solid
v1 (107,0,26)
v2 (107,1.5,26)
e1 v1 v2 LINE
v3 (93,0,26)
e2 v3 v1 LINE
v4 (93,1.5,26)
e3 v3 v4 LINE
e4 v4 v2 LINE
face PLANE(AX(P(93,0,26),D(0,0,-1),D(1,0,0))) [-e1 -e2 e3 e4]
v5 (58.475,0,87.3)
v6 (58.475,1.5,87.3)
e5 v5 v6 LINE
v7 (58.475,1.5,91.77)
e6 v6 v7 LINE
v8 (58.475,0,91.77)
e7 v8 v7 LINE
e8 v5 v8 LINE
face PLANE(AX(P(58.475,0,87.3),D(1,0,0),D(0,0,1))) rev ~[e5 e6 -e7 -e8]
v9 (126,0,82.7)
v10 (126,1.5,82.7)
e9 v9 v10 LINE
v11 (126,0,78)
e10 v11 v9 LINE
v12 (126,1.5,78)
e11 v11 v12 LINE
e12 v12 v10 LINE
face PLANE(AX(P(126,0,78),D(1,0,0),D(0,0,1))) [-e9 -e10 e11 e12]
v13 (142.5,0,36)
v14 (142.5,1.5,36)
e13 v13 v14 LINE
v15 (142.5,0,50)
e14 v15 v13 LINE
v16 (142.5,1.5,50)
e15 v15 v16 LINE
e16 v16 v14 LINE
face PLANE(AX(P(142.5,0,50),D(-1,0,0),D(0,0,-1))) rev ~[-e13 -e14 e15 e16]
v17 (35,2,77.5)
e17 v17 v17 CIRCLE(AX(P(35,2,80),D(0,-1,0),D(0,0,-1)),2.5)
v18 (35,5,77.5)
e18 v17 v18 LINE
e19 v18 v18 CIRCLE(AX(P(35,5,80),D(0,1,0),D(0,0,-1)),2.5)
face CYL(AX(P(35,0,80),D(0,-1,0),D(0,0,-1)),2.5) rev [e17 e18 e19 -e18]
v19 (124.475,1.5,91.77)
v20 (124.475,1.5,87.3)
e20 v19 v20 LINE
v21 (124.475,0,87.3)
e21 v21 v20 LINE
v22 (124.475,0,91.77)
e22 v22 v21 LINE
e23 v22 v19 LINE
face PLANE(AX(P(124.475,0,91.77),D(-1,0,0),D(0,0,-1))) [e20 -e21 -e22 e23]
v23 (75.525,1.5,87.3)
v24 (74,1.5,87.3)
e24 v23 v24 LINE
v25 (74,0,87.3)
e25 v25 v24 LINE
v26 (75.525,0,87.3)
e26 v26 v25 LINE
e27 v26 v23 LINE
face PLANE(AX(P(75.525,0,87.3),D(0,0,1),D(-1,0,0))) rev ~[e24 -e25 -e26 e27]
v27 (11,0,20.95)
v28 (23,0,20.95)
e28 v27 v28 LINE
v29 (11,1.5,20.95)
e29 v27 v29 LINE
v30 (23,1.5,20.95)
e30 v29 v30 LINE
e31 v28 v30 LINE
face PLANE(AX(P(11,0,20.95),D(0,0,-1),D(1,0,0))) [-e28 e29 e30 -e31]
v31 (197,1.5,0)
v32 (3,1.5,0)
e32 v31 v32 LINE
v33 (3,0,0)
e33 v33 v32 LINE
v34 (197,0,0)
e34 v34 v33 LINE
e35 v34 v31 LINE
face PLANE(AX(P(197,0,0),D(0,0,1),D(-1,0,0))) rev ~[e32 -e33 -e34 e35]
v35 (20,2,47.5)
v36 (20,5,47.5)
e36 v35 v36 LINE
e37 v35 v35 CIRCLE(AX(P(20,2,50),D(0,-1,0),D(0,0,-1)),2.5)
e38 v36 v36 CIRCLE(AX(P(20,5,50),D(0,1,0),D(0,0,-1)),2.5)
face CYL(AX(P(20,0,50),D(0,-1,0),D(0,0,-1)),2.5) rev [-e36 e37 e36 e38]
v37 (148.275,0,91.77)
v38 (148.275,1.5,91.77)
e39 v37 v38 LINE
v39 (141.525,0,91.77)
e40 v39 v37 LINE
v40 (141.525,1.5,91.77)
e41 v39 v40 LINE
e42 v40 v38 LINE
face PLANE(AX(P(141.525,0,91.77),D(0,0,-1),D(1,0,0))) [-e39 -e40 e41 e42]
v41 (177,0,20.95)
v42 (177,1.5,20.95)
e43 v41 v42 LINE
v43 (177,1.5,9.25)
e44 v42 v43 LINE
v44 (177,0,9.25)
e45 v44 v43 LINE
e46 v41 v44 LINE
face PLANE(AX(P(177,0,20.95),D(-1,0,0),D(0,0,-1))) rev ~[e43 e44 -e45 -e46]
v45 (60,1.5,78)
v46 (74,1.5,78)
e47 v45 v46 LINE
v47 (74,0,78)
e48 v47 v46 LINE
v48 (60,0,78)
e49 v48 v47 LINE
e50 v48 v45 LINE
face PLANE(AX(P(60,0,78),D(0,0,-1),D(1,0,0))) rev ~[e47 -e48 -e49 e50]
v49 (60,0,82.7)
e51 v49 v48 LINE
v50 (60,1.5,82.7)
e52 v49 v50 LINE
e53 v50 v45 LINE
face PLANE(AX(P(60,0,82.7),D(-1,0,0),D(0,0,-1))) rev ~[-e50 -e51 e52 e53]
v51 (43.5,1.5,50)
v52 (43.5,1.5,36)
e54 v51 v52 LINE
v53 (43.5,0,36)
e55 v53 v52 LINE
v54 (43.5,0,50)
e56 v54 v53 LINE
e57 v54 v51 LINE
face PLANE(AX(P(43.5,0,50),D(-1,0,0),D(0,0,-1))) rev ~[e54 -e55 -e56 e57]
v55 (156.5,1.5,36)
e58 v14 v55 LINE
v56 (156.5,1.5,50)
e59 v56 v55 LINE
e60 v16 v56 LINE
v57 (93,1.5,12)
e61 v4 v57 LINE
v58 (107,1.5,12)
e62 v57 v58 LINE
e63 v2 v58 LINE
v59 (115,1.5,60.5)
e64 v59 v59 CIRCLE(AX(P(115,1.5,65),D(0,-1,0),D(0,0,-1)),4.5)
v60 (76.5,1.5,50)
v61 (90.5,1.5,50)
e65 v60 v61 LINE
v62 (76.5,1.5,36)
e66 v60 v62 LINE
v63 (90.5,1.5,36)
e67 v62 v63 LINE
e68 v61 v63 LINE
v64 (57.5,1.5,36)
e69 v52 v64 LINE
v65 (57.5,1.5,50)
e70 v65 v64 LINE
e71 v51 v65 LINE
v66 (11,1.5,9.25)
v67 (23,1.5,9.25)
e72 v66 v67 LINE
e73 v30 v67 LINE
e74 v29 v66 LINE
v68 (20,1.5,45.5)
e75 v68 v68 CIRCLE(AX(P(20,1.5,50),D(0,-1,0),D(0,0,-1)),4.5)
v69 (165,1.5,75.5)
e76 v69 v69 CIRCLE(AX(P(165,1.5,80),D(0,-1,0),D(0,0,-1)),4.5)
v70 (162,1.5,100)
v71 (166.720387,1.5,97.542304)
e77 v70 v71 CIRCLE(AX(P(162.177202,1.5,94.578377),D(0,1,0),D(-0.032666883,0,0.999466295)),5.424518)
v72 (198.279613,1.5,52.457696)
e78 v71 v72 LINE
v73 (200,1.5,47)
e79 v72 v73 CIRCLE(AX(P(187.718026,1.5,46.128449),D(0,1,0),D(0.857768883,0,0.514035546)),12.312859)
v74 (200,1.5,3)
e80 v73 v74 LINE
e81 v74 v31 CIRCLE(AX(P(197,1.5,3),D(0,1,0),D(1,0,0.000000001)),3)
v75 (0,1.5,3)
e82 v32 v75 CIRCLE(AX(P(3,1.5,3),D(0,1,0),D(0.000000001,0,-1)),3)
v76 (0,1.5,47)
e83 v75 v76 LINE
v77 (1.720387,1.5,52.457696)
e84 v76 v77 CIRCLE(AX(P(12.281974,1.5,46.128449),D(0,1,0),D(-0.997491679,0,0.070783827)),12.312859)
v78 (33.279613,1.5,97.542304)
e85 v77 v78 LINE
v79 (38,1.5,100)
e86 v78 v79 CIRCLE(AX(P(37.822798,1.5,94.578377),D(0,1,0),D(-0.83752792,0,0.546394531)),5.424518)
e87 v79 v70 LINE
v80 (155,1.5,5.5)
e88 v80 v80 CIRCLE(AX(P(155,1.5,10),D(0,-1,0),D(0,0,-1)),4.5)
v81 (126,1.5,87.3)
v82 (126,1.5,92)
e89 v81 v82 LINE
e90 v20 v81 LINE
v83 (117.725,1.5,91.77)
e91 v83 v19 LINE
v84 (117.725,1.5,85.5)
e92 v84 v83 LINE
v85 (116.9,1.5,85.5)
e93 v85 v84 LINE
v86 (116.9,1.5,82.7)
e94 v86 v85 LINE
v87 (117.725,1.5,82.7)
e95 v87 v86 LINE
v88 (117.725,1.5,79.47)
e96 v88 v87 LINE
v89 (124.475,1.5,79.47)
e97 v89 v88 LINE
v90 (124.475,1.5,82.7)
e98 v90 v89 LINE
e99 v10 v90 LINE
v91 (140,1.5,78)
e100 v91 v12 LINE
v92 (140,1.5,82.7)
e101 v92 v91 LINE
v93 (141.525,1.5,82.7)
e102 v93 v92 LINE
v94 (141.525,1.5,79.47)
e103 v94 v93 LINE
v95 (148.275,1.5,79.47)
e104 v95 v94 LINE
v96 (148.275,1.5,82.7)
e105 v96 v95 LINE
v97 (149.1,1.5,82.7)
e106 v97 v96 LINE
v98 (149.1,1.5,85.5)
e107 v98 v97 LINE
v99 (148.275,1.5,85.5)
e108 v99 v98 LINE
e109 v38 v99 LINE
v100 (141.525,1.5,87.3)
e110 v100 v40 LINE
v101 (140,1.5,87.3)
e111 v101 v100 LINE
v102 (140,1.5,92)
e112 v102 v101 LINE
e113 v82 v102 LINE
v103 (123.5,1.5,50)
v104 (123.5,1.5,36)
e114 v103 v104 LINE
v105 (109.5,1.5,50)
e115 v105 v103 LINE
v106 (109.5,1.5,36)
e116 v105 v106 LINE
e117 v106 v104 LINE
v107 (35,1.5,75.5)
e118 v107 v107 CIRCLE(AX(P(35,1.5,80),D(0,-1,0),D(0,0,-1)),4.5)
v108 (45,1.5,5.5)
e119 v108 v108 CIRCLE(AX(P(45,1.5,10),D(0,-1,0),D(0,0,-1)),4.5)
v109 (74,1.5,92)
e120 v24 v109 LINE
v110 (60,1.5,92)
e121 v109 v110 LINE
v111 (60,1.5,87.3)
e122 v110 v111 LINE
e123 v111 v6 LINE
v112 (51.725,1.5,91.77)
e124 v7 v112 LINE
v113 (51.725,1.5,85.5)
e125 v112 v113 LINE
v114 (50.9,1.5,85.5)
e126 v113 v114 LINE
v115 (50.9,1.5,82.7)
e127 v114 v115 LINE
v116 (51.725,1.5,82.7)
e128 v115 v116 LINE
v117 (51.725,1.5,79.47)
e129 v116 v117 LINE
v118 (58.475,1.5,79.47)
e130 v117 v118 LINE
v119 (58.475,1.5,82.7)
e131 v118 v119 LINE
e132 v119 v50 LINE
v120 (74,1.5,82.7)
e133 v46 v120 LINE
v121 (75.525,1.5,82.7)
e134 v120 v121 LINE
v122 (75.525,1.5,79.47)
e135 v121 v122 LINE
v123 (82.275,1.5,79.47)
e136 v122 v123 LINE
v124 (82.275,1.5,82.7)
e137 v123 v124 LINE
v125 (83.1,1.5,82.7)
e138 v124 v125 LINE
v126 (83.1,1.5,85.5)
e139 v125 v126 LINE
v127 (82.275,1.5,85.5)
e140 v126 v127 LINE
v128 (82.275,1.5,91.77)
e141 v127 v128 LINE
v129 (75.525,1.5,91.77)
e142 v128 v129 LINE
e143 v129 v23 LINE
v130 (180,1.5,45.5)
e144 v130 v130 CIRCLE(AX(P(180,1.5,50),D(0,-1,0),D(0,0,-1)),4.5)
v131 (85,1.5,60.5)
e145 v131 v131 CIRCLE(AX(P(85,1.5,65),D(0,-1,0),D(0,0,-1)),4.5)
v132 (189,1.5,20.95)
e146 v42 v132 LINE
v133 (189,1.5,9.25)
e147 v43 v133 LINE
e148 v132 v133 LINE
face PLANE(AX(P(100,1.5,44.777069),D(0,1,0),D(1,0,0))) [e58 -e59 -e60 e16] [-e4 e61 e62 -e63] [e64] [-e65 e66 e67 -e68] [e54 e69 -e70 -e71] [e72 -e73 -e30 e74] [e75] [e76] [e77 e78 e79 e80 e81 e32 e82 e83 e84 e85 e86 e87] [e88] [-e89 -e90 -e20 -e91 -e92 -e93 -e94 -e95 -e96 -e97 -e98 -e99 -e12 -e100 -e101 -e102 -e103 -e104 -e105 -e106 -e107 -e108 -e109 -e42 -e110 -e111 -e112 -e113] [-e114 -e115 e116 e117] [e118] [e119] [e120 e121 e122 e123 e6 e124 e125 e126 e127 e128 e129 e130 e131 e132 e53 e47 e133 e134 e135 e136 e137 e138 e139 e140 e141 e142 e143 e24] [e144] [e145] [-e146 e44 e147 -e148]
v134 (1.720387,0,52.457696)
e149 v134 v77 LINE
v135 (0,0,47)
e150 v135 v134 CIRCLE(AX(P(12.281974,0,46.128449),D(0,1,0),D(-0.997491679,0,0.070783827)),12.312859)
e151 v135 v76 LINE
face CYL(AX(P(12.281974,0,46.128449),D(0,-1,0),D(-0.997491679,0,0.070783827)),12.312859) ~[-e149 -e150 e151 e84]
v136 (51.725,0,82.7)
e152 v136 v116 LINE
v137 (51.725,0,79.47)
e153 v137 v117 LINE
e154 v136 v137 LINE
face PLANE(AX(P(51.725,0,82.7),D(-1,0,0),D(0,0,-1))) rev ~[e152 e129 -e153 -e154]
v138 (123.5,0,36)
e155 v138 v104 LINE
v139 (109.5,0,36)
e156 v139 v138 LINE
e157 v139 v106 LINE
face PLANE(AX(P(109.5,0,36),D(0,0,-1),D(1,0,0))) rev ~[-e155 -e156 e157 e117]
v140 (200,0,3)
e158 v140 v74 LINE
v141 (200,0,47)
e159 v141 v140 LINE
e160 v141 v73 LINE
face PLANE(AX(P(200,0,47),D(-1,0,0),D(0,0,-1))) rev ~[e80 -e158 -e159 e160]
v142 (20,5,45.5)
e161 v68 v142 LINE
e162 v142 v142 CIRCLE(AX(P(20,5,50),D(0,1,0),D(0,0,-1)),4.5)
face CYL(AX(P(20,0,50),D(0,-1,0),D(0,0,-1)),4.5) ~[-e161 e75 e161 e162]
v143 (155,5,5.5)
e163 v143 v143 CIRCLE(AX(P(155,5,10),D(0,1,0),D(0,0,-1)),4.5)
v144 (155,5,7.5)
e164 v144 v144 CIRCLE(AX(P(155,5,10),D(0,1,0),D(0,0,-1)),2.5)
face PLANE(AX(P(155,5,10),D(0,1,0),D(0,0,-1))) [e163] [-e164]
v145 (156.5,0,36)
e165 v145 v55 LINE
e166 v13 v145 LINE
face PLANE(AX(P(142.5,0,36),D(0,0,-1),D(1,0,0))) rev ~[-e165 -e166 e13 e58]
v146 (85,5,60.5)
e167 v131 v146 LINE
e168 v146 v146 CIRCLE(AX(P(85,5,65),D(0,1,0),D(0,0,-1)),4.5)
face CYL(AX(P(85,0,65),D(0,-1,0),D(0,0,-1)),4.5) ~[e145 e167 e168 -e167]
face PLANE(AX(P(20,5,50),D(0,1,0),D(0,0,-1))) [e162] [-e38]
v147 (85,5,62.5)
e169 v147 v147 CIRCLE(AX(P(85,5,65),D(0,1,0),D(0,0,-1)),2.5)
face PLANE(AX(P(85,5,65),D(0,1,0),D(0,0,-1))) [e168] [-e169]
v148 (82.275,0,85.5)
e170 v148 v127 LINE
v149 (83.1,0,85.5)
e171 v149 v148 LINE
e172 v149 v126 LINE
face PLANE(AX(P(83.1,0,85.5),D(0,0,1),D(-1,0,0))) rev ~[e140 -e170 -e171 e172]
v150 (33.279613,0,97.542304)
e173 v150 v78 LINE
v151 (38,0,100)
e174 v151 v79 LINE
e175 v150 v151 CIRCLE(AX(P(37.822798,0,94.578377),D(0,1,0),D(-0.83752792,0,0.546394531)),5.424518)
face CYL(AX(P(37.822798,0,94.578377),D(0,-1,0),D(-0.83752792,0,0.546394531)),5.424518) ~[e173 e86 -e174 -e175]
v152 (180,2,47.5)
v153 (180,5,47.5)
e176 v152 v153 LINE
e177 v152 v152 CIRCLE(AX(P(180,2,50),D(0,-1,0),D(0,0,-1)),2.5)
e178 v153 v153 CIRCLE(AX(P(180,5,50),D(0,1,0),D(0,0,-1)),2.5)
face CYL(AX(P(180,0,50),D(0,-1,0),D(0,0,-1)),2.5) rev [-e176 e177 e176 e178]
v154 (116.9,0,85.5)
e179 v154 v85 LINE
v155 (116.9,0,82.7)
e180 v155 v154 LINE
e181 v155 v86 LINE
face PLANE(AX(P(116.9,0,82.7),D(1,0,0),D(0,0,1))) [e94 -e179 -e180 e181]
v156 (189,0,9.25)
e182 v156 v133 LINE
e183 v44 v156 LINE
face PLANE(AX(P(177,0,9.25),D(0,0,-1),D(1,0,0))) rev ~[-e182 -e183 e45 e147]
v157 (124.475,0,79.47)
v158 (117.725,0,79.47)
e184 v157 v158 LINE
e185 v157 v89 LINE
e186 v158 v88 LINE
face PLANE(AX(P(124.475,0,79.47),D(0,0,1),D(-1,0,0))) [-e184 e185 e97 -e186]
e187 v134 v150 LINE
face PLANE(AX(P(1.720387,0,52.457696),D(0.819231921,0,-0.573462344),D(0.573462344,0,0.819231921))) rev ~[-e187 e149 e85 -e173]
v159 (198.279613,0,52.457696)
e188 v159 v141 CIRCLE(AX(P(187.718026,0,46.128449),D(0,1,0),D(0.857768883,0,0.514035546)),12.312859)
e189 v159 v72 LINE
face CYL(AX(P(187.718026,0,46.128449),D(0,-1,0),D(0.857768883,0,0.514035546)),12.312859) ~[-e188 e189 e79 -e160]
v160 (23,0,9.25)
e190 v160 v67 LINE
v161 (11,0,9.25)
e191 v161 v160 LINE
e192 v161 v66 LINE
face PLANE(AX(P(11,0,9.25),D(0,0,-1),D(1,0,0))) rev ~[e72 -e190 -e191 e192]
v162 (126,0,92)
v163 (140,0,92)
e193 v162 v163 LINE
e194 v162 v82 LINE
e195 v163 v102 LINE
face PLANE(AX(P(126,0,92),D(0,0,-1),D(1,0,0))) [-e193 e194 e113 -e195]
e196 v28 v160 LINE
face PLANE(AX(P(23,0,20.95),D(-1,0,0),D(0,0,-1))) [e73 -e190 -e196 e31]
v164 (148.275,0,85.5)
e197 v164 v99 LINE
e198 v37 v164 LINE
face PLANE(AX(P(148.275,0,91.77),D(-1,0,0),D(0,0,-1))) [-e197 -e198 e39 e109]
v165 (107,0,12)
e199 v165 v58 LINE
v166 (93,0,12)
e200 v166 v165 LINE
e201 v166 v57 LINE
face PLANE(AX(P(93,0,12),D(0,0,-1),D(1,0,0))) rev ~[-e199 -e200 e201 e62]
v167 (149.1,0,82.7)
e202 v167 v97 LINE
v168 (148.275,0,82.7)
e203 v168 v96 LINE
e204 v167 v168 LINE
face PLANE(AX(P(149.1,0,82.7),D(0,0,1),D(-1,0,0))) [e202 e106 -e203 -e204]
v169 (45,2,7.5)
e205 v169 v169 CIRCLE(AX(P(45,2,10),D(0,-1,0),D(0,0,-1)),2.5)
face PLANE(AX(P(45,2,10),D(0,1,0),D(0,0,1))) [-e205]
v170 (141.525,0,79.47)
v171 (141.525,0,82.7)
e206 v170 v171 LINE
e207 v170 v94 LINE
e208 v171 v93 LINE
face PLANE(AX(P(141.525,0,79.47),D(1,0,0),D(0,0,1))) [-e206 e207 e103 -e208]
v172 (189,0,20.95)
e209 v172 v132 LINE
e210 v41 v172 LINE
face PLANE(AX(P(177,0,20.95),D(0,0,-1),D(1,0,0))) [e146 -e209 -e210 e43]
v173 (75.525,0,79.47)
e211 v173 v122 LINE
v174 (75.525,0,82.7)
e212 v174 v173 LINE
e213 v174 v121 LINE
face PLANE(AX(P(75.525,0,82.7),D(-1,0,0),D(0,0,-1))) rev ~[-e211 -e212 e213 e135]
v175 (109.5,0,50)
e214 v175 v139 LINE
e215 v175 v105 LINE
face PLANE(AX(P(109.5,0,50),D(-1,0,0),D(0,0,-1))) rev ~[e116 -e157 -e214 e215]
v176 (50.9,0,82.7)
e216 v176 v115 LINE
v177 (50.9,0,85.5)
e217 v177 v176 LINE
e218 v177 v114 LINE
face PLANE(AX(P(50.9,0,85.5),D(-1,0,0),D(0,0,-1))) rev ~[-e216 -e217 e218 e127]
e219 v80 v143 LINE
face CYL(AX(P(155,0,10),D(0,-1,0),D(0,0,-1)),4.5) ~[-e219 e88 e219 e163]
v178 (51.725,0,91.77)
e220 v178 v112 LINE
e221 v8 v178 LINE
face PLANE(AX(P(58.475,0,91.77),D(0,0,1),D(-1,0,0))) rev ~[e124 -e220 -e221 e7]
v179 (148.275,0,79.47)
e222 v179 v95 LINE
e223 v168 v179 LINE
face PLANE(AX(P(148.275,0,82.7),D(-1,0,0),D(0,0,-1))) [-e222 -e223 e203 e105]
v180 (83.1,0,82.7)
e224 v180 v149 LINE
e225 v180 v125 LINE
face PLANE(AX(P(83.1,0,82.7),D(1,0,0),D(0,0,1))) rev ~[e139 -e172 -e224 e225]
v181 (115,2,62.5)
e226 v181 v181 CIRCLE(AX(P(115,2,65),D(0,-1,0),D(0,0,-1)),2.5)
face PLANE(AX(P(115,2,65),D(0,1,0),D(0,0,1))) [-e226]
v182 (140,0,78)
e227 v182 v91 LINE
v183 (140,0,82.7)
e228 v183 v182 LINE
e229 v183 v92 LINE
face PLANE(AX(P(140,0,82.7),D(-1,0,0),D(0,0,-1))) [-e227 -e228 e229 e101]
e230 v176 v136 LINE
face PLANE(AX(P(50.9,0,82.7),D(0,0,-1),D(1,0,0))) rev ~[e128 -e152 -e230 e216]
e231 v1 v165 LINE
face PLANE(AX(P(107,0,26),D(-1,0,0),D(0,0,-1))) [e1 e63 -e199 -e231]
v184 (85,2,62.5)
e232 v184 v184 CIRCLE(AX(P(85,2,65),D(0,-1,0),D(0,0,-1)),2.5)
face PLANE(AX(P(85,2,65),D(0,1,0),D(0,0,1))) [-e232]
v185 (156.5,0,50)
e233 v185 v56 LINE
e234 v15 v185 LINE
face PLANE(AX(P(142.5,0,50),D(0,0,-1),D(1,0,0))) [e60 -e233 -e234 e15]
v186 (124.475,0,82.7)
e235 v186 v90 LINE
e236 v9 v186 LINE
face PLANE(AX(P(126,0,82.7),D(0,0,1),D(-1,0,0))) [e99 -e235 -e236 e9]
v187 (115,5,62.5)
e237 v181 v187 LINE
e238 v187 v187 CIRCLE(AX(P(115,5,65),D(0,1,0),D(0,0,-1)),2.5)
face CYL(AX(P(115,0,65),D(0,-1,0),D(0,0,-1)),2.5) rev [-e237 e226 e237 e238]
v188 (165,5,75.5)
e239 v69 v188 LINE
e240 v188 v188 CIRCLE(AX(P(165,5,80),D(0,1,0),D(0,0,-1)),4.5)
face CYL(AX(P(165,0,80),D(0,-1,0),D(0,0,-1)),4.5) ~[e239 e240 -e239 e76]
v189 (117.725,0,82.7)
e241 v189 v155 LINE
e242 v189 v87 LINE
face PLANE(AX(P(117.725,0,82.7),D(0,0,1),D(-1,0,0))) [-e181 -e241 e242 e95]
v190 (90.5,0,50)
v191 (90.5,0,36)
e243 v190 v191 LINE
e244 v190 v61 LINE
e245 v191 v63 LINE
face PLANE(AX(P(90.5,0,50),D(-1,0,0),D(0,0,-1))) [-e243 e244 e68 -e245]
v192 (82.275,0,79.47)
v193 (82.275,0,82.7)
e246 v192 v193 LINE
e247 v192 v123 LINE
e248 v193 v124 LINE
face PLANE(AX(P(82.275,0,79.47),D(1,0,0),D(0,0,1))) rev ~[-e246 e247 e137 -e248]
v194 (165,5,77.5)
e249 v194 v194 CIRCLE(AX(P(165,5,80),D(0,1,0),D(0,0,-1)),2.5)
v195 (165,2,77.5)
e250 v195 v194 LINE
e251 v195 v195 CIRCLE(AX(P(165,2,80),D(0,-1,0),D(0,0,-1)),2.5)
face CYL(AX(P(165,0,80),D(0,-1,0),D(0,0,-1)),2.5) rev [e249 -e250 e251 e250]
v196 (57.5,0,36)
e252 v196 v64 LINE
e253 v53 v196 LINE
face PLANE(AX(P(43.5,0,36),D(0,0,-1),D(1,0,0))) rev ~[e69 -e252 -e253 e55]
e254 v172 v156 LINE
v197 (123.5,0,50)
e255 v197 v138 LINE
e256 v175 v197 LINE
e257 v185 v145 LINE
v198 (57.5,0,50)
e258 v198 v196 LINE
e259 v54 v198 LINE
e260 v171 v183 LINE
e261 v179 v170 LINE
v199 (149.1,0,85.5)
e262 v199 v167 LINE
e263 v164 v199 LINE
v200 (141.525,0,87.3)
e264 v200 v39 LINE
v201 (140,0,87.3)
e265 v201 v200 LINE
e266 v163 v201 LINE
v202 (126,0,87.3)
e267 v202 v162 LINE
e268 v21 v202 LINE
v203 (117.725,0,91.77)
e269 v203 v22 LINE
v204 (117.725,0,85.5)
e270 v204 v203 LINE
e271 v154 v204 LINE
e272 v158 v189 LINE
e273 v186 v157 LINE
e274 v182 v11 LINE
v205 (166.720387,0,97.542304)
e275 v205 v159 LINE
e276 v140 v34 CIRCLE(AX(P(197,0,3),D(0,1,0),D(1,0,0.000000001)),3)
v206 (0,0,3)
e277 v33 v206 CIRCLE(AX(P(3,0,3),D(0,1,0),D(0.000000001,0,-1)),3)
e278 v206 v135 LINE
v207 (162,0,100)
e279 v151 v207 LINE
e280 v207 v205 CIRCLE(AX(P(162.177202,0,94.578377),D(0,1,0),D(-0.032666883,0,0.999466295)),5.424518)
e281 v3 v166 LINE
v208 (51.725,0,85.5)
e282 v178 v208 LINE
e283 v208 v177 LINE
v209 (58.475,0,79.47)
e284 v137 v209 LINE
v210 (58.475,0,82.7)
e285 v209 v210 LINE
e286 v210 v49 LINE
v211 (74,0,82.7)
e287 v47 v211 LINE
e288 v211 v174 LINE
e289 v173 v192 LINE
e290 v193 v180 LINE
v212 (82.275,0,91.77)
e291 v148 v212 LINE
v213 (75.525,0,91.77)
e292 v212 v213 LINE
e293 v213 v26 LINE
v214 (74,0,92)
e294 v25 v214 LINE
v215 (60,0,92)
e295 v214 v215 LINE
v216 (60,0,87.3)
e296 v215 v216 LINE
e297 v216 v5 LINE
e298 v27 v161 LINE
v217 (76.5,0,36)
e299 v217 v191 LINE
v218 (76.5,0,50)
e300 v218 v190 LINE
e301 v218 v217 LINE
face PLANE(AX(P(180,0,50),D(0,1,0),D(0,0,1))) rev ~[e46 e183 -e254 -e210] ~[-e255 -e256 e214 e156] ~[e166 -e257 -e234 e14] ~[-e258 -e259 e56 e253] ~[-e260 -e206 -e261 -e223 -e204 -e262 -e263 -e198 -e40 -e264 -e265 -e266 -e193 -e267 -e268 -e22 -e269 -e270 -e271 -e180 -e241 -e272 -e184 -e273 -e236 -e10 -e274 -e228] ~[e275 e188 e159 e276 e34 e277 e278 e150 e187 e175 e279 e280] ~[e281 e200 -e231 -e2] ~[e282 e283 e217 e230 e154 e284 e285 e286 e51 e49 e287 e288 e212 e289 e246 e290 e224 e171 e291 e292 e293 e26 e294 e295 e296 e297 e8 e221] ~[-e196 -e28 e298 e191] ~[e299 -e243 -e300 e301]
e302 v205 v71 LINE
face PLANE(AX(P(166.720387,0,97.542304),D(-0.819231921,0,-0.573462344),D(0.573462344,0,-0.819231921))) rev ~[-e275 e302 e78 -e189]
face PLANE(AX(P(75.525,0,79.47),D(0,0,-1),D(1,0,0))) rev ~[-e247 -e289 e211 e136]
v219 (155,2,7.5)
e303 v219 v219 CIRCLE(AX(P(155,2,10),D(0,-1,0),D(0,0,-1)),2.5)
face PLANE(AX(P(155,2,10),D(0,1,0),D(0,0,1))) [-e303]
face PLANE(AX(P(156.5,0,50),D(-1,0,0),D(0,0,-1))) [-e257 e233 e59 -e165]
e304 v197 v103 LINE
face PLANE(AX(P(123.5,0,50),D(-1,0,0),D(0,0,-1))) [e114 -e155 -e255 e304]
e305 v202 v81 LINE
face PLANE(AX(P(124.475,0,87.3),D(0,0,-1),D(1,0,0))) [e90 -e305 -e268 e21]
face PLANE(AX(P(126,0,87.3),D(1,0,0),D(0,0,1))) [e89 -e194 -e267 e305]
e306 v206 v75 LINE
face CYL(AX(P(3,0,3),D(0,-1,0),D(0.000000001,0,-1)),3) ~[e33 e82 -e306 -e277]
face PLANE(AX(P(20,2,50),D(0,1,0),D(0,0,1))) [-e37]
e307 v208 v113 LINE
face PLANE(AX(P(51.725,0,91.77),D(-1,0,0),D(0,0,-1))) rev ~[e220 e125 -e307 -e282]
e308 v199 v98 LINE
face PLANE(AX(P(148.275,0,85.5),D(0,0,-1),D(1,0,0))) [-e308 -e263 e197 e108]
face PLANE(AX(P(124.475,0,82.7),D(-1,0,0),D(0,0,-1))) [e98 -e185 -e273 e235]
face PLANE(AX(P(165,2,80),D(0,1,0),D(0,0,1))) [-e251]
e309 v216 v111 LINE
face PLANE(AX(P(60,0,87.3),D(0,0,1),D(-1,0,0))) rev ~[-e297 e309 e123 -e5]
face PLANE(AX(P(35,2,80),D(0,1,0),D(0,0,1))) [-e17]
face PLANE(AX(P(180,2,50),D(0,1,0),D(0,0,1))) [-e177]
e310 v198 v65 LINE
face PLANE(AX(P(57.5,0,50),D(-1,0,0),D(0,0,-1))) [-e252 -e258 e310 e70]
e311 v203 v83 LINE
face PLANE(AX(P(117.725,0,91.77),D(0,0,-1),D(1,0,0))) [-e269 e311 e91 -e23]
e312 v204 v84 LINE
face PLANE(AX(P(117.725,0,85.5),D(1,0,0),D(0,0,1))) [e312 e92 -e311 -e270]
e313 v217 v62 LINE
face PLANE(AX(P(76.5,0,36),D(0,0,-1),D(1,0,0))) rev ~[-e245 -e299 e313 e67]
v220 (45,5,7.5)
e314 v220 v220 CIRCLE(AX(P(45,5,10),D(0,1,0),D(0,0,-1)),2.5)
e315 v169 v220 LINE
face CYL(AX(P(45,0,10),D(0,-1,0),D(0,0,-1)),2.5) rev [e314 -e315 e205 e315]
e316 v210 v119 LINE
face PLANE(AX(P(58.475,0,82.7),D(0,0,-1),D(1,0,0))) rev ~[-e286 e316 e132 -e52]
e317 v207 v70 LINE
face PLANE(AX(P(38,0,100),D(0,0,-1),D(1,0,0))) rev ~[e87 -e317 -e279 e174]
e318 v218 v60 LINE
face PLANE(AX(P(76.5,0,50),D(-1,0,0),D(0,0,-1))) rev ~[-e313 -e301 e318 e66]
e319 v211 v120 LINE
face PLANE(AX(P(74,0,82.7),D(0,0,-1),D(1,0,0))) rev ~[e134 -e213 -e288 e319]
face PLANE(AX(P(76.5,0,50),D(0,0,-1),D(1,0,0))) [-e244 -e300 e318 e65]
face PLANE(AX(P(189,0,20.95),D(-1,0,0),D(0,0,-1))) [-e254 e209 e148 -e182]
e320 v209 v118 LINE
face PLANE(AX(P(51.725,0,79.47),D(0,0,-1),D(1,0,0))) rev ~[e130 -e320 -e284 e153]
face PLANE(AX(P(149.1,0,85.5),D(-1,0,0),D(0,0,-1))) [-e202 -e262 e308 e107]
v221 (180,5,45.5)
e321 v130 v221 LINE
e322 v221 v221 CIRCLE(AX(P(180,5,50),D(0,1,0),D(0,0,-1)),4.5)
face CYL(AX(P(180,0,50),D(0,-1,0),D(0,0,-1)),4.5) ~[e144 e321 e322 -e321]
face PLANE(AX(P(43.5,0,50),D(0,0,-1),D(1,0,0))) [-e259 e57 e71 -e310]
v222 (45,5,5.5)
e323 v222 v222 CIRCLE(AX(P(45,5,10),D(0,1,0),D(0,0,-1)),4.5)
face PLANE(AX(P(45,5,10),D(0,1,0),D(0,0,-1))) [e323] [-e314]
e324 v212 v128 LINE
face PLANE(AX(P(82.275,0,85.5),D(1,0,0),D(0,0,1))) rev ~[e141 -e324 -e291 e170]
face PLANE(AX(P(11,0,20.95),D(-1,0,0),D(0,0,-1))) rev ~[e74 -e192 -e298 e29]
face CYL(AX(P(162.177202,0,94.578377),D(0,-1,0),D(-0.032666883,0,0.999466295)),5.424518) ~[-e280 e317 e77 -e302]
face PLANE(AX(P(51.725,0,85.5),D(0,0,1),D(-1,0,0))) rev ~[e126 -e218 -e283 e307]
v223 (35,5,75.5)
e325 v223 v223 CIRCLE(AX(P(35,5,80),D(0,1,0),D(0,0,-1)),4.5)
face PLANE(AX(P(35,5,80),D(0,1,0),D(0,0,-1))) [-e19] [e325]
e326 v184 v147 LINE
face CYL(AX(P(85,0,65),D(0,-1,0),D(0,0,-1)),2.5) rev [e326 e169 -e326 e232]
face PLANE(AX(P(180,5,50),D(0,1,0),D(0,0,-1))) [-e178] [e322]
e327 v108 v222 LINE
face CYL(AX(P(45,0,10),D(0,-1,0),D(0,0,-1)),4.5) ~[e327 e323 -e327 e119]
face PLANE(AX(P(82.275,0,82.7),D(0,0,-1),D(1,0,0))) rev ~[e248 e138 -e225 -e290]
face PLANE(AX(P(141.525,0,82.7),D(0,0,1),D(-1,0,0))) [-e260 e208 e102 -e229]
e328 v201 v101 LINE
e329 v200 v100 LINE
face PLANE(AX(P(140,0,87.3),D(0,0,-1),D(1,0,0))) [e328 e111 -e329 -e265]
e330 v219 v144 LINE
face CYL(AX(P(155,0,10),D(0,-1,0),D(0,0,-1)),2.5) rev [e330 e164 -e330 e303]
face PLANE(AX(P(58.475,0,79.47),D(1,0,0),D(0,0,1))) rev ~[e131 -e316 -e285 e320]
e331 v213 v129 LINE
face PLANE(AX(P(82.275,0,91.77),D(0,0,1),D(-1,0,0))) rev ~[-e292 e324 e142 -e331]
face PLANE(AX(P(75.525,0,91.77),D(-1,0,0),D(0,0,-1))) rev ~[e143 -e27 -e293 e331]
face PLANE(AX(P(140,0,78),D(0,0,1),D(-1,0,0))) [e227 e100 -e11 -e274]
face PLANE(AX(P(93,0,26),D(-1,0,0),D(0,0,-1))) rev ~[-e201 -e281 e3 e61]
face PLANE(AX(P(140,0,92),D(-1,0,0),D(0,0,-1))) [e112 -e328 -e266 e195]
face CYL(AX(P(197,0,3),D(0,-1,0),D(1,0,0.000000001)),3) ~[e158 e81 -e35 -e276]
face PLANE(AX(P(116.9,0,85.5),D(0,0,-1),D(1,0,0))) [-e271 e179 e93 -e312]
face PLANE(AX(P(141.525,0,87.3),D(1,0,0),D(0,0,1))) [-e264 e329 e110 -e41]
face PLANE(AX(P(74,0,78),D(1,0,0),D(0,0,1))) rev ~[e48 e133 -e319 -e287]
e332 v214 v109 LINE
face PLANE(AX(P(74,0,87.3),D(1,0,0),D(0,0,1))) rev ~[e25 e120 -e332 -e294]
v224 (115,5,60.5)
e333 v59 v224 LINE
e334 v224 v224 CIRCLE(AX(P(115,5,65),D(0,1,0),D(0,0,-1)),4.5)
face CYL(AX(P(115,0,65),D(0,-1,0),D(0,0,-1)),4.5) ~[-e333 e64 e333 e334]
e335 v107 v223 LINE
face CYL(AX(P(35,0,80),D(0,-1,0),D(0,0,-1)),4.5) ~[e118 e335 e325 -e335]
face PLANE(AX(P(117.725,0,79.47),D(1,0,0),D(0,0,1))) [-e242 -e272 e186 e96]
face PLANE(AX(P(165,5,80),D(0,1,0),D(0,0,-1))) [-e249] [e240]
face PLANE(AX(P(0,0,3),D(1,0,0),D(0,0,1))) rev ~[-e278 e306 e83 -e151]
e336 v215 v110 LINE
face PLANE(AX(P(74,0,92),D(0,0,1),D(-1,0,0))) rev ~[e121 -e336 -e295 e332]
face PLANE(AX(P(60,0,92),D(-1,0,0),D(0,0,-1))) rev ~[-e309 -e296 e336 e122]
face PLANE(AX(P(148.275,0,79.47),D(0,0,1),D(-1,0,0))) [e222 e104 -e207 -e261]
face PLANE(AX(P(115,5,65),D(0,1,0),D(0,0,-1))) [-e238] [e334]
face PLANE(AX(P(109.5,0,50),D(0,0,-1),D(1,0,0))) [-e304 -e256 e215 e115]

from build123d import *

# Parameters (mm, degrees)
SKETCH_1_W      = 14
SKETCH_1_H      = 14
SKETCH_1_W_2    = 12
SKETCH_1_H_2    = 11.7
EXTRUDE_1_DEPTH = 1.5
SKETCH_2_R      = 4.5
SKETCH_2_R_2    = 2.5
EXTRUDE_2_DEPTH = 5
SKETCH_3_R      = 2.5
EXTRUDE_3_DEPTH = 2


with BuildPart() as part:
    # 草图1 → 凸台-拉伸1 (new body)
    with BuildSketch(Plane(origin=(0, 0, 0), x_dir=(1, 0, 0), z_dir=(0, 1, 0))):
        with BuildLine():
            Line((197, 0), (3, 0))
            ThreePointArc((3, 0), (0.878679656, -0.878679656), (0, -3))
            Line((0, -3), (0, -47))
            ThreePointArc((0, -47), (0.538734236, -49.830178992), (1.720387033, -52.457695762))
            Line((1.720387033, -52.457695762), (33.279612967, -97.542304238))
            ThreePointArc((33.279612967, -97.542304238), (35.317699373, -99.389808931), (38, -100))
            Line((38, -100), (162, -100))
            ThreePointArc((162, -100), (164.682300627, -99.389808931), (166.720387033, -97.542304238))
            Line((166.720387033, -97.542304238), (198.279612967, -52.457695762))
            ThreePointArc((198.279612967, -52.457695762), (199.461265764, -49.830178992), (200, -47))
            Line((200, -47), (200, -3))
            ThreePointArc((200, -3), (199.121320344, -0.878679656), (197, 0))
        make_face()
        with Locations((100, -19)):
            Rectangle(SKETCH_1_W, SKETCH_1_H, mode=Mode.SUBTRACT)
        with Locations((83.5, -43)):
            Rectangle(SKETCH_1_W, SKETCH_1_H, mode=Mode.SUBTRACT)
        with Locations((116.5, -43)):
            Rectangle(SKETCH_1_W, SKETCH_1_H, mode=Mode.SUBTRACT)
        with Locations((50.5, -43)):
            Rectangle(SKETCH_1_W, SKETCH_1_H, mode=Mode.SUBTRACT)
        with Locations((149.5, -43)):
            Rectangle(SKETCH_1_W, SKETCH_1_H, mode=Mode.SUBTRACT)
        Polygon((60, -78), (74, -78), (74, -82.7), (75.525, -82.7), (75.525, -79.47), (82.275, -79.47), (82.275, -82.7), (83.1, -82.7), (83.1, -85.5), (82.275, -85.5), (82.275, -91.77), (75.525, -91.77), (75.525, -87.3), (74, -87.3), (74, -92), (60, -92), (60, -87.3), (58.475, -87.3), (58.475, -91.77), (51.725, -91.77), (51.725, -85.5), (50.9, -85.5), (50.9, -82.7), (51.725, -82.7), (51.725, -79.47), (58.475, -79.47), (58.475, -82.7), (60, -82.7), align=None, mode=Mode.SUBTRACT)
        Polygon((140, -78), (126, -78), (126, -82.7), (124.475, -82.7), (124.475, -79.47), (117.725, -79.47), (117.725, -82.7), (116.9, -82.7), (116.9, -85.5), (117.725, -85.5), (117.725, -91.77), (124.475, -91.77), (124.475, -87.3), (126, -87.3), (126, -92), (140, -92), (140, -87.3), (141.525, -87.3), (141.525, -91.77), (148.275, -91.77), (148.275, -85.5), (149.1, -85.5), (149.1, -82.7), (148.275, -82.7), (148.275, -79.47), (141.525, -79.47), (141.525, -82.7), (140, -82.7), align=None, mode=Mode.SUBTRACT)
        with Locations((17, -15.1)):
            Rectangle(SKETCH_1_W_2, SKETCH_1_H_2, mode=Mode.SUBTRACT)
        with Locations((183, -15.1)):
            Rectangle(SKETCH_1_W_2, SKETCH_1_H_2, mode=Mode.SUBTRACT)
    extrude(amount=EXTRUDE_1_DEPTH)

    # 草图2 → 凸台-拉伸2 (add)
    # profile 1 of 8: a face of its own
    with BuildSketch(Plane(origin=(0, 0, 0), x_dir=(1, 0, 0), z_dir=(0, 1, 0))):
        with Locations(Location((35, -80, 0), (0, 0, 90))):
            Circle(SKETCH_2_R)
        with Locations(Location((35, -80, 0), (0, 0, 90))):
            Circle(SKETCH_2_R_2, mode=Mode.SUBTRACT)
    # profile 2 of 8: a face of its own
    with BuildSketch(Plane(origin=(0, 0, 0), x_dir=(1, 0, 0), z_dir=(0, 1, 0))):
        with Locations(Location((20, -50, 0), (0, 0, 90))):
            Circle(SKETCH_2_R)
        with Locations(Location((20, -50, 0), (0, 0, 90))):
            Circle(SKETCH_2_R_2, mode=Mode.SUBTRACT)
    # profile 3 of 8: a face of its own
    with BuildSketch(Plane(origin=(0, 0, 0), x_dir=(1, 0, 0), z_dir=(0, 1, 0))):
        with Locations(Location((45, -10, 0), (0, 0, 90))):
            Circle(SKETCH_2_R)
        with Locations(Location((45, -10, 0), (0, 0, 90))):
            Circle(SKETCH_2_R_2, mode=Mode.SUBTRACT)
    # profile 4 of 8: a face of its own
    with BuildSketch(Plane(origin=(0, 0, 0), x_dir=(1, 0, 0), z_dir=(0, 1, 0))):
        with Locations(Location((85, -65, 0), (0, 0, 90))):
            Circle(SKETCH_2_R)
        with Locations(Location((85, -65, 0), (0, 0, 90))):
            Circle(SKETCH_2_R_2, mode=Mode.SUBTRACT)
    # profile 5 of 8: a face of its own
    with BuildSketch(Plane(origin=(0, 0, 0), x_dir=(1, 0, 0), z_dir=(0, 1, 0))):
        with Locations(Location((115, -65, 0), (0, 0, 90))):
            Circle(SKETCH_2_R)
        with Locations(Location((115, -65, 0), (0, 0, 90))):
            Circle(SKETCH_2_R_2, mode=Mode.SUBTRACT)
    # profile 6 of 8: a face of its own
    with BuildSketch(Plane(origin=(0, 0, 0), x_dir=(1, 0, 0), z_dir=(0, 1, 0))):
        with Locations(Location((165, -80, 0), (0, 0, 90))):
            Circle(SKETCH_2_R)
        with Locations(Location((165, -80, 0), (0, 0, 90))):
            Circle(SKETCH_2_R_2, mode=Mode.SUBTRACT)
    # profile 7 of 8: a face of its own
    with BuildSketch(Plane(origin=(0, 0, 0), x_dir=(1, 0, 0), z_dir=(0, 1, 0))):
        with Locations(Location((155, -10, 0), (0, 0, 90))):
            Circle(SKETCH_2_R)
        with Locations(Location((155, -10, 0), (0, 0, 90))):
            Circle(SKETCH_2_R_2, mode=Mode.SUBTRACT)
    # profile 8 of 8: a face of its own
    with BuildSketch(Plane(origin=(0, 0, 0), x_dir=(1, 0, 0), z_dir=(0, 1, 0))):
        with Locations(Location((180, -50, 0), (0, 0, 90))):
            Circle(SKETCH_2_R)
        with Locations(Location((180, -50, 0), (0, 0, 90))):
            Circle(SKETCH_2_R_2, mode=Mode.SUBTRACT)
    extrude(amount=EXTRUDE_2_DEPTH)

    # 草图3 → 凸台-拉伸3 (add)
    with BuildSketch(Plane(origin=(0, 0, 0), x_dir=(1, 0, 0), z_dir=(0, 1, 0))):
        with Locations(Location((180, -50, 0), (0, 0, 270))):
            Circle(SKETCH_3_R)
        with Locations(Location((165, -80, 0), (0, 0, 270))):
            Circle(SKETCH_3_R)
        with Locations(Location((115, -65, 0), (0, 0, 270))):
            Circle(SKETCH_3_R)
        with Locations(Location((155, -10, 0), (0, 0, 270))):
            Circle(SKETCH_3_R)
        with Locations(Location((45, -10, 0), (0, 0, 270))):
            Circle(SKETCH_3_R)
        with Locations(Location((20, -50, 0), (0, 0, 270))):
            Circle(SKETCH_3_R)
        with Locations(Location((35, -80, 0), (0, 0, 270))):
            Circle(SKETCH_3_R)
        with Locations(Location((85, -65, 0), (0, 0, 270))):
            Circle(SKETCH_3_R)
    extrude(amount=EXTRUDE_3_DEPTH)


solid = part.part
